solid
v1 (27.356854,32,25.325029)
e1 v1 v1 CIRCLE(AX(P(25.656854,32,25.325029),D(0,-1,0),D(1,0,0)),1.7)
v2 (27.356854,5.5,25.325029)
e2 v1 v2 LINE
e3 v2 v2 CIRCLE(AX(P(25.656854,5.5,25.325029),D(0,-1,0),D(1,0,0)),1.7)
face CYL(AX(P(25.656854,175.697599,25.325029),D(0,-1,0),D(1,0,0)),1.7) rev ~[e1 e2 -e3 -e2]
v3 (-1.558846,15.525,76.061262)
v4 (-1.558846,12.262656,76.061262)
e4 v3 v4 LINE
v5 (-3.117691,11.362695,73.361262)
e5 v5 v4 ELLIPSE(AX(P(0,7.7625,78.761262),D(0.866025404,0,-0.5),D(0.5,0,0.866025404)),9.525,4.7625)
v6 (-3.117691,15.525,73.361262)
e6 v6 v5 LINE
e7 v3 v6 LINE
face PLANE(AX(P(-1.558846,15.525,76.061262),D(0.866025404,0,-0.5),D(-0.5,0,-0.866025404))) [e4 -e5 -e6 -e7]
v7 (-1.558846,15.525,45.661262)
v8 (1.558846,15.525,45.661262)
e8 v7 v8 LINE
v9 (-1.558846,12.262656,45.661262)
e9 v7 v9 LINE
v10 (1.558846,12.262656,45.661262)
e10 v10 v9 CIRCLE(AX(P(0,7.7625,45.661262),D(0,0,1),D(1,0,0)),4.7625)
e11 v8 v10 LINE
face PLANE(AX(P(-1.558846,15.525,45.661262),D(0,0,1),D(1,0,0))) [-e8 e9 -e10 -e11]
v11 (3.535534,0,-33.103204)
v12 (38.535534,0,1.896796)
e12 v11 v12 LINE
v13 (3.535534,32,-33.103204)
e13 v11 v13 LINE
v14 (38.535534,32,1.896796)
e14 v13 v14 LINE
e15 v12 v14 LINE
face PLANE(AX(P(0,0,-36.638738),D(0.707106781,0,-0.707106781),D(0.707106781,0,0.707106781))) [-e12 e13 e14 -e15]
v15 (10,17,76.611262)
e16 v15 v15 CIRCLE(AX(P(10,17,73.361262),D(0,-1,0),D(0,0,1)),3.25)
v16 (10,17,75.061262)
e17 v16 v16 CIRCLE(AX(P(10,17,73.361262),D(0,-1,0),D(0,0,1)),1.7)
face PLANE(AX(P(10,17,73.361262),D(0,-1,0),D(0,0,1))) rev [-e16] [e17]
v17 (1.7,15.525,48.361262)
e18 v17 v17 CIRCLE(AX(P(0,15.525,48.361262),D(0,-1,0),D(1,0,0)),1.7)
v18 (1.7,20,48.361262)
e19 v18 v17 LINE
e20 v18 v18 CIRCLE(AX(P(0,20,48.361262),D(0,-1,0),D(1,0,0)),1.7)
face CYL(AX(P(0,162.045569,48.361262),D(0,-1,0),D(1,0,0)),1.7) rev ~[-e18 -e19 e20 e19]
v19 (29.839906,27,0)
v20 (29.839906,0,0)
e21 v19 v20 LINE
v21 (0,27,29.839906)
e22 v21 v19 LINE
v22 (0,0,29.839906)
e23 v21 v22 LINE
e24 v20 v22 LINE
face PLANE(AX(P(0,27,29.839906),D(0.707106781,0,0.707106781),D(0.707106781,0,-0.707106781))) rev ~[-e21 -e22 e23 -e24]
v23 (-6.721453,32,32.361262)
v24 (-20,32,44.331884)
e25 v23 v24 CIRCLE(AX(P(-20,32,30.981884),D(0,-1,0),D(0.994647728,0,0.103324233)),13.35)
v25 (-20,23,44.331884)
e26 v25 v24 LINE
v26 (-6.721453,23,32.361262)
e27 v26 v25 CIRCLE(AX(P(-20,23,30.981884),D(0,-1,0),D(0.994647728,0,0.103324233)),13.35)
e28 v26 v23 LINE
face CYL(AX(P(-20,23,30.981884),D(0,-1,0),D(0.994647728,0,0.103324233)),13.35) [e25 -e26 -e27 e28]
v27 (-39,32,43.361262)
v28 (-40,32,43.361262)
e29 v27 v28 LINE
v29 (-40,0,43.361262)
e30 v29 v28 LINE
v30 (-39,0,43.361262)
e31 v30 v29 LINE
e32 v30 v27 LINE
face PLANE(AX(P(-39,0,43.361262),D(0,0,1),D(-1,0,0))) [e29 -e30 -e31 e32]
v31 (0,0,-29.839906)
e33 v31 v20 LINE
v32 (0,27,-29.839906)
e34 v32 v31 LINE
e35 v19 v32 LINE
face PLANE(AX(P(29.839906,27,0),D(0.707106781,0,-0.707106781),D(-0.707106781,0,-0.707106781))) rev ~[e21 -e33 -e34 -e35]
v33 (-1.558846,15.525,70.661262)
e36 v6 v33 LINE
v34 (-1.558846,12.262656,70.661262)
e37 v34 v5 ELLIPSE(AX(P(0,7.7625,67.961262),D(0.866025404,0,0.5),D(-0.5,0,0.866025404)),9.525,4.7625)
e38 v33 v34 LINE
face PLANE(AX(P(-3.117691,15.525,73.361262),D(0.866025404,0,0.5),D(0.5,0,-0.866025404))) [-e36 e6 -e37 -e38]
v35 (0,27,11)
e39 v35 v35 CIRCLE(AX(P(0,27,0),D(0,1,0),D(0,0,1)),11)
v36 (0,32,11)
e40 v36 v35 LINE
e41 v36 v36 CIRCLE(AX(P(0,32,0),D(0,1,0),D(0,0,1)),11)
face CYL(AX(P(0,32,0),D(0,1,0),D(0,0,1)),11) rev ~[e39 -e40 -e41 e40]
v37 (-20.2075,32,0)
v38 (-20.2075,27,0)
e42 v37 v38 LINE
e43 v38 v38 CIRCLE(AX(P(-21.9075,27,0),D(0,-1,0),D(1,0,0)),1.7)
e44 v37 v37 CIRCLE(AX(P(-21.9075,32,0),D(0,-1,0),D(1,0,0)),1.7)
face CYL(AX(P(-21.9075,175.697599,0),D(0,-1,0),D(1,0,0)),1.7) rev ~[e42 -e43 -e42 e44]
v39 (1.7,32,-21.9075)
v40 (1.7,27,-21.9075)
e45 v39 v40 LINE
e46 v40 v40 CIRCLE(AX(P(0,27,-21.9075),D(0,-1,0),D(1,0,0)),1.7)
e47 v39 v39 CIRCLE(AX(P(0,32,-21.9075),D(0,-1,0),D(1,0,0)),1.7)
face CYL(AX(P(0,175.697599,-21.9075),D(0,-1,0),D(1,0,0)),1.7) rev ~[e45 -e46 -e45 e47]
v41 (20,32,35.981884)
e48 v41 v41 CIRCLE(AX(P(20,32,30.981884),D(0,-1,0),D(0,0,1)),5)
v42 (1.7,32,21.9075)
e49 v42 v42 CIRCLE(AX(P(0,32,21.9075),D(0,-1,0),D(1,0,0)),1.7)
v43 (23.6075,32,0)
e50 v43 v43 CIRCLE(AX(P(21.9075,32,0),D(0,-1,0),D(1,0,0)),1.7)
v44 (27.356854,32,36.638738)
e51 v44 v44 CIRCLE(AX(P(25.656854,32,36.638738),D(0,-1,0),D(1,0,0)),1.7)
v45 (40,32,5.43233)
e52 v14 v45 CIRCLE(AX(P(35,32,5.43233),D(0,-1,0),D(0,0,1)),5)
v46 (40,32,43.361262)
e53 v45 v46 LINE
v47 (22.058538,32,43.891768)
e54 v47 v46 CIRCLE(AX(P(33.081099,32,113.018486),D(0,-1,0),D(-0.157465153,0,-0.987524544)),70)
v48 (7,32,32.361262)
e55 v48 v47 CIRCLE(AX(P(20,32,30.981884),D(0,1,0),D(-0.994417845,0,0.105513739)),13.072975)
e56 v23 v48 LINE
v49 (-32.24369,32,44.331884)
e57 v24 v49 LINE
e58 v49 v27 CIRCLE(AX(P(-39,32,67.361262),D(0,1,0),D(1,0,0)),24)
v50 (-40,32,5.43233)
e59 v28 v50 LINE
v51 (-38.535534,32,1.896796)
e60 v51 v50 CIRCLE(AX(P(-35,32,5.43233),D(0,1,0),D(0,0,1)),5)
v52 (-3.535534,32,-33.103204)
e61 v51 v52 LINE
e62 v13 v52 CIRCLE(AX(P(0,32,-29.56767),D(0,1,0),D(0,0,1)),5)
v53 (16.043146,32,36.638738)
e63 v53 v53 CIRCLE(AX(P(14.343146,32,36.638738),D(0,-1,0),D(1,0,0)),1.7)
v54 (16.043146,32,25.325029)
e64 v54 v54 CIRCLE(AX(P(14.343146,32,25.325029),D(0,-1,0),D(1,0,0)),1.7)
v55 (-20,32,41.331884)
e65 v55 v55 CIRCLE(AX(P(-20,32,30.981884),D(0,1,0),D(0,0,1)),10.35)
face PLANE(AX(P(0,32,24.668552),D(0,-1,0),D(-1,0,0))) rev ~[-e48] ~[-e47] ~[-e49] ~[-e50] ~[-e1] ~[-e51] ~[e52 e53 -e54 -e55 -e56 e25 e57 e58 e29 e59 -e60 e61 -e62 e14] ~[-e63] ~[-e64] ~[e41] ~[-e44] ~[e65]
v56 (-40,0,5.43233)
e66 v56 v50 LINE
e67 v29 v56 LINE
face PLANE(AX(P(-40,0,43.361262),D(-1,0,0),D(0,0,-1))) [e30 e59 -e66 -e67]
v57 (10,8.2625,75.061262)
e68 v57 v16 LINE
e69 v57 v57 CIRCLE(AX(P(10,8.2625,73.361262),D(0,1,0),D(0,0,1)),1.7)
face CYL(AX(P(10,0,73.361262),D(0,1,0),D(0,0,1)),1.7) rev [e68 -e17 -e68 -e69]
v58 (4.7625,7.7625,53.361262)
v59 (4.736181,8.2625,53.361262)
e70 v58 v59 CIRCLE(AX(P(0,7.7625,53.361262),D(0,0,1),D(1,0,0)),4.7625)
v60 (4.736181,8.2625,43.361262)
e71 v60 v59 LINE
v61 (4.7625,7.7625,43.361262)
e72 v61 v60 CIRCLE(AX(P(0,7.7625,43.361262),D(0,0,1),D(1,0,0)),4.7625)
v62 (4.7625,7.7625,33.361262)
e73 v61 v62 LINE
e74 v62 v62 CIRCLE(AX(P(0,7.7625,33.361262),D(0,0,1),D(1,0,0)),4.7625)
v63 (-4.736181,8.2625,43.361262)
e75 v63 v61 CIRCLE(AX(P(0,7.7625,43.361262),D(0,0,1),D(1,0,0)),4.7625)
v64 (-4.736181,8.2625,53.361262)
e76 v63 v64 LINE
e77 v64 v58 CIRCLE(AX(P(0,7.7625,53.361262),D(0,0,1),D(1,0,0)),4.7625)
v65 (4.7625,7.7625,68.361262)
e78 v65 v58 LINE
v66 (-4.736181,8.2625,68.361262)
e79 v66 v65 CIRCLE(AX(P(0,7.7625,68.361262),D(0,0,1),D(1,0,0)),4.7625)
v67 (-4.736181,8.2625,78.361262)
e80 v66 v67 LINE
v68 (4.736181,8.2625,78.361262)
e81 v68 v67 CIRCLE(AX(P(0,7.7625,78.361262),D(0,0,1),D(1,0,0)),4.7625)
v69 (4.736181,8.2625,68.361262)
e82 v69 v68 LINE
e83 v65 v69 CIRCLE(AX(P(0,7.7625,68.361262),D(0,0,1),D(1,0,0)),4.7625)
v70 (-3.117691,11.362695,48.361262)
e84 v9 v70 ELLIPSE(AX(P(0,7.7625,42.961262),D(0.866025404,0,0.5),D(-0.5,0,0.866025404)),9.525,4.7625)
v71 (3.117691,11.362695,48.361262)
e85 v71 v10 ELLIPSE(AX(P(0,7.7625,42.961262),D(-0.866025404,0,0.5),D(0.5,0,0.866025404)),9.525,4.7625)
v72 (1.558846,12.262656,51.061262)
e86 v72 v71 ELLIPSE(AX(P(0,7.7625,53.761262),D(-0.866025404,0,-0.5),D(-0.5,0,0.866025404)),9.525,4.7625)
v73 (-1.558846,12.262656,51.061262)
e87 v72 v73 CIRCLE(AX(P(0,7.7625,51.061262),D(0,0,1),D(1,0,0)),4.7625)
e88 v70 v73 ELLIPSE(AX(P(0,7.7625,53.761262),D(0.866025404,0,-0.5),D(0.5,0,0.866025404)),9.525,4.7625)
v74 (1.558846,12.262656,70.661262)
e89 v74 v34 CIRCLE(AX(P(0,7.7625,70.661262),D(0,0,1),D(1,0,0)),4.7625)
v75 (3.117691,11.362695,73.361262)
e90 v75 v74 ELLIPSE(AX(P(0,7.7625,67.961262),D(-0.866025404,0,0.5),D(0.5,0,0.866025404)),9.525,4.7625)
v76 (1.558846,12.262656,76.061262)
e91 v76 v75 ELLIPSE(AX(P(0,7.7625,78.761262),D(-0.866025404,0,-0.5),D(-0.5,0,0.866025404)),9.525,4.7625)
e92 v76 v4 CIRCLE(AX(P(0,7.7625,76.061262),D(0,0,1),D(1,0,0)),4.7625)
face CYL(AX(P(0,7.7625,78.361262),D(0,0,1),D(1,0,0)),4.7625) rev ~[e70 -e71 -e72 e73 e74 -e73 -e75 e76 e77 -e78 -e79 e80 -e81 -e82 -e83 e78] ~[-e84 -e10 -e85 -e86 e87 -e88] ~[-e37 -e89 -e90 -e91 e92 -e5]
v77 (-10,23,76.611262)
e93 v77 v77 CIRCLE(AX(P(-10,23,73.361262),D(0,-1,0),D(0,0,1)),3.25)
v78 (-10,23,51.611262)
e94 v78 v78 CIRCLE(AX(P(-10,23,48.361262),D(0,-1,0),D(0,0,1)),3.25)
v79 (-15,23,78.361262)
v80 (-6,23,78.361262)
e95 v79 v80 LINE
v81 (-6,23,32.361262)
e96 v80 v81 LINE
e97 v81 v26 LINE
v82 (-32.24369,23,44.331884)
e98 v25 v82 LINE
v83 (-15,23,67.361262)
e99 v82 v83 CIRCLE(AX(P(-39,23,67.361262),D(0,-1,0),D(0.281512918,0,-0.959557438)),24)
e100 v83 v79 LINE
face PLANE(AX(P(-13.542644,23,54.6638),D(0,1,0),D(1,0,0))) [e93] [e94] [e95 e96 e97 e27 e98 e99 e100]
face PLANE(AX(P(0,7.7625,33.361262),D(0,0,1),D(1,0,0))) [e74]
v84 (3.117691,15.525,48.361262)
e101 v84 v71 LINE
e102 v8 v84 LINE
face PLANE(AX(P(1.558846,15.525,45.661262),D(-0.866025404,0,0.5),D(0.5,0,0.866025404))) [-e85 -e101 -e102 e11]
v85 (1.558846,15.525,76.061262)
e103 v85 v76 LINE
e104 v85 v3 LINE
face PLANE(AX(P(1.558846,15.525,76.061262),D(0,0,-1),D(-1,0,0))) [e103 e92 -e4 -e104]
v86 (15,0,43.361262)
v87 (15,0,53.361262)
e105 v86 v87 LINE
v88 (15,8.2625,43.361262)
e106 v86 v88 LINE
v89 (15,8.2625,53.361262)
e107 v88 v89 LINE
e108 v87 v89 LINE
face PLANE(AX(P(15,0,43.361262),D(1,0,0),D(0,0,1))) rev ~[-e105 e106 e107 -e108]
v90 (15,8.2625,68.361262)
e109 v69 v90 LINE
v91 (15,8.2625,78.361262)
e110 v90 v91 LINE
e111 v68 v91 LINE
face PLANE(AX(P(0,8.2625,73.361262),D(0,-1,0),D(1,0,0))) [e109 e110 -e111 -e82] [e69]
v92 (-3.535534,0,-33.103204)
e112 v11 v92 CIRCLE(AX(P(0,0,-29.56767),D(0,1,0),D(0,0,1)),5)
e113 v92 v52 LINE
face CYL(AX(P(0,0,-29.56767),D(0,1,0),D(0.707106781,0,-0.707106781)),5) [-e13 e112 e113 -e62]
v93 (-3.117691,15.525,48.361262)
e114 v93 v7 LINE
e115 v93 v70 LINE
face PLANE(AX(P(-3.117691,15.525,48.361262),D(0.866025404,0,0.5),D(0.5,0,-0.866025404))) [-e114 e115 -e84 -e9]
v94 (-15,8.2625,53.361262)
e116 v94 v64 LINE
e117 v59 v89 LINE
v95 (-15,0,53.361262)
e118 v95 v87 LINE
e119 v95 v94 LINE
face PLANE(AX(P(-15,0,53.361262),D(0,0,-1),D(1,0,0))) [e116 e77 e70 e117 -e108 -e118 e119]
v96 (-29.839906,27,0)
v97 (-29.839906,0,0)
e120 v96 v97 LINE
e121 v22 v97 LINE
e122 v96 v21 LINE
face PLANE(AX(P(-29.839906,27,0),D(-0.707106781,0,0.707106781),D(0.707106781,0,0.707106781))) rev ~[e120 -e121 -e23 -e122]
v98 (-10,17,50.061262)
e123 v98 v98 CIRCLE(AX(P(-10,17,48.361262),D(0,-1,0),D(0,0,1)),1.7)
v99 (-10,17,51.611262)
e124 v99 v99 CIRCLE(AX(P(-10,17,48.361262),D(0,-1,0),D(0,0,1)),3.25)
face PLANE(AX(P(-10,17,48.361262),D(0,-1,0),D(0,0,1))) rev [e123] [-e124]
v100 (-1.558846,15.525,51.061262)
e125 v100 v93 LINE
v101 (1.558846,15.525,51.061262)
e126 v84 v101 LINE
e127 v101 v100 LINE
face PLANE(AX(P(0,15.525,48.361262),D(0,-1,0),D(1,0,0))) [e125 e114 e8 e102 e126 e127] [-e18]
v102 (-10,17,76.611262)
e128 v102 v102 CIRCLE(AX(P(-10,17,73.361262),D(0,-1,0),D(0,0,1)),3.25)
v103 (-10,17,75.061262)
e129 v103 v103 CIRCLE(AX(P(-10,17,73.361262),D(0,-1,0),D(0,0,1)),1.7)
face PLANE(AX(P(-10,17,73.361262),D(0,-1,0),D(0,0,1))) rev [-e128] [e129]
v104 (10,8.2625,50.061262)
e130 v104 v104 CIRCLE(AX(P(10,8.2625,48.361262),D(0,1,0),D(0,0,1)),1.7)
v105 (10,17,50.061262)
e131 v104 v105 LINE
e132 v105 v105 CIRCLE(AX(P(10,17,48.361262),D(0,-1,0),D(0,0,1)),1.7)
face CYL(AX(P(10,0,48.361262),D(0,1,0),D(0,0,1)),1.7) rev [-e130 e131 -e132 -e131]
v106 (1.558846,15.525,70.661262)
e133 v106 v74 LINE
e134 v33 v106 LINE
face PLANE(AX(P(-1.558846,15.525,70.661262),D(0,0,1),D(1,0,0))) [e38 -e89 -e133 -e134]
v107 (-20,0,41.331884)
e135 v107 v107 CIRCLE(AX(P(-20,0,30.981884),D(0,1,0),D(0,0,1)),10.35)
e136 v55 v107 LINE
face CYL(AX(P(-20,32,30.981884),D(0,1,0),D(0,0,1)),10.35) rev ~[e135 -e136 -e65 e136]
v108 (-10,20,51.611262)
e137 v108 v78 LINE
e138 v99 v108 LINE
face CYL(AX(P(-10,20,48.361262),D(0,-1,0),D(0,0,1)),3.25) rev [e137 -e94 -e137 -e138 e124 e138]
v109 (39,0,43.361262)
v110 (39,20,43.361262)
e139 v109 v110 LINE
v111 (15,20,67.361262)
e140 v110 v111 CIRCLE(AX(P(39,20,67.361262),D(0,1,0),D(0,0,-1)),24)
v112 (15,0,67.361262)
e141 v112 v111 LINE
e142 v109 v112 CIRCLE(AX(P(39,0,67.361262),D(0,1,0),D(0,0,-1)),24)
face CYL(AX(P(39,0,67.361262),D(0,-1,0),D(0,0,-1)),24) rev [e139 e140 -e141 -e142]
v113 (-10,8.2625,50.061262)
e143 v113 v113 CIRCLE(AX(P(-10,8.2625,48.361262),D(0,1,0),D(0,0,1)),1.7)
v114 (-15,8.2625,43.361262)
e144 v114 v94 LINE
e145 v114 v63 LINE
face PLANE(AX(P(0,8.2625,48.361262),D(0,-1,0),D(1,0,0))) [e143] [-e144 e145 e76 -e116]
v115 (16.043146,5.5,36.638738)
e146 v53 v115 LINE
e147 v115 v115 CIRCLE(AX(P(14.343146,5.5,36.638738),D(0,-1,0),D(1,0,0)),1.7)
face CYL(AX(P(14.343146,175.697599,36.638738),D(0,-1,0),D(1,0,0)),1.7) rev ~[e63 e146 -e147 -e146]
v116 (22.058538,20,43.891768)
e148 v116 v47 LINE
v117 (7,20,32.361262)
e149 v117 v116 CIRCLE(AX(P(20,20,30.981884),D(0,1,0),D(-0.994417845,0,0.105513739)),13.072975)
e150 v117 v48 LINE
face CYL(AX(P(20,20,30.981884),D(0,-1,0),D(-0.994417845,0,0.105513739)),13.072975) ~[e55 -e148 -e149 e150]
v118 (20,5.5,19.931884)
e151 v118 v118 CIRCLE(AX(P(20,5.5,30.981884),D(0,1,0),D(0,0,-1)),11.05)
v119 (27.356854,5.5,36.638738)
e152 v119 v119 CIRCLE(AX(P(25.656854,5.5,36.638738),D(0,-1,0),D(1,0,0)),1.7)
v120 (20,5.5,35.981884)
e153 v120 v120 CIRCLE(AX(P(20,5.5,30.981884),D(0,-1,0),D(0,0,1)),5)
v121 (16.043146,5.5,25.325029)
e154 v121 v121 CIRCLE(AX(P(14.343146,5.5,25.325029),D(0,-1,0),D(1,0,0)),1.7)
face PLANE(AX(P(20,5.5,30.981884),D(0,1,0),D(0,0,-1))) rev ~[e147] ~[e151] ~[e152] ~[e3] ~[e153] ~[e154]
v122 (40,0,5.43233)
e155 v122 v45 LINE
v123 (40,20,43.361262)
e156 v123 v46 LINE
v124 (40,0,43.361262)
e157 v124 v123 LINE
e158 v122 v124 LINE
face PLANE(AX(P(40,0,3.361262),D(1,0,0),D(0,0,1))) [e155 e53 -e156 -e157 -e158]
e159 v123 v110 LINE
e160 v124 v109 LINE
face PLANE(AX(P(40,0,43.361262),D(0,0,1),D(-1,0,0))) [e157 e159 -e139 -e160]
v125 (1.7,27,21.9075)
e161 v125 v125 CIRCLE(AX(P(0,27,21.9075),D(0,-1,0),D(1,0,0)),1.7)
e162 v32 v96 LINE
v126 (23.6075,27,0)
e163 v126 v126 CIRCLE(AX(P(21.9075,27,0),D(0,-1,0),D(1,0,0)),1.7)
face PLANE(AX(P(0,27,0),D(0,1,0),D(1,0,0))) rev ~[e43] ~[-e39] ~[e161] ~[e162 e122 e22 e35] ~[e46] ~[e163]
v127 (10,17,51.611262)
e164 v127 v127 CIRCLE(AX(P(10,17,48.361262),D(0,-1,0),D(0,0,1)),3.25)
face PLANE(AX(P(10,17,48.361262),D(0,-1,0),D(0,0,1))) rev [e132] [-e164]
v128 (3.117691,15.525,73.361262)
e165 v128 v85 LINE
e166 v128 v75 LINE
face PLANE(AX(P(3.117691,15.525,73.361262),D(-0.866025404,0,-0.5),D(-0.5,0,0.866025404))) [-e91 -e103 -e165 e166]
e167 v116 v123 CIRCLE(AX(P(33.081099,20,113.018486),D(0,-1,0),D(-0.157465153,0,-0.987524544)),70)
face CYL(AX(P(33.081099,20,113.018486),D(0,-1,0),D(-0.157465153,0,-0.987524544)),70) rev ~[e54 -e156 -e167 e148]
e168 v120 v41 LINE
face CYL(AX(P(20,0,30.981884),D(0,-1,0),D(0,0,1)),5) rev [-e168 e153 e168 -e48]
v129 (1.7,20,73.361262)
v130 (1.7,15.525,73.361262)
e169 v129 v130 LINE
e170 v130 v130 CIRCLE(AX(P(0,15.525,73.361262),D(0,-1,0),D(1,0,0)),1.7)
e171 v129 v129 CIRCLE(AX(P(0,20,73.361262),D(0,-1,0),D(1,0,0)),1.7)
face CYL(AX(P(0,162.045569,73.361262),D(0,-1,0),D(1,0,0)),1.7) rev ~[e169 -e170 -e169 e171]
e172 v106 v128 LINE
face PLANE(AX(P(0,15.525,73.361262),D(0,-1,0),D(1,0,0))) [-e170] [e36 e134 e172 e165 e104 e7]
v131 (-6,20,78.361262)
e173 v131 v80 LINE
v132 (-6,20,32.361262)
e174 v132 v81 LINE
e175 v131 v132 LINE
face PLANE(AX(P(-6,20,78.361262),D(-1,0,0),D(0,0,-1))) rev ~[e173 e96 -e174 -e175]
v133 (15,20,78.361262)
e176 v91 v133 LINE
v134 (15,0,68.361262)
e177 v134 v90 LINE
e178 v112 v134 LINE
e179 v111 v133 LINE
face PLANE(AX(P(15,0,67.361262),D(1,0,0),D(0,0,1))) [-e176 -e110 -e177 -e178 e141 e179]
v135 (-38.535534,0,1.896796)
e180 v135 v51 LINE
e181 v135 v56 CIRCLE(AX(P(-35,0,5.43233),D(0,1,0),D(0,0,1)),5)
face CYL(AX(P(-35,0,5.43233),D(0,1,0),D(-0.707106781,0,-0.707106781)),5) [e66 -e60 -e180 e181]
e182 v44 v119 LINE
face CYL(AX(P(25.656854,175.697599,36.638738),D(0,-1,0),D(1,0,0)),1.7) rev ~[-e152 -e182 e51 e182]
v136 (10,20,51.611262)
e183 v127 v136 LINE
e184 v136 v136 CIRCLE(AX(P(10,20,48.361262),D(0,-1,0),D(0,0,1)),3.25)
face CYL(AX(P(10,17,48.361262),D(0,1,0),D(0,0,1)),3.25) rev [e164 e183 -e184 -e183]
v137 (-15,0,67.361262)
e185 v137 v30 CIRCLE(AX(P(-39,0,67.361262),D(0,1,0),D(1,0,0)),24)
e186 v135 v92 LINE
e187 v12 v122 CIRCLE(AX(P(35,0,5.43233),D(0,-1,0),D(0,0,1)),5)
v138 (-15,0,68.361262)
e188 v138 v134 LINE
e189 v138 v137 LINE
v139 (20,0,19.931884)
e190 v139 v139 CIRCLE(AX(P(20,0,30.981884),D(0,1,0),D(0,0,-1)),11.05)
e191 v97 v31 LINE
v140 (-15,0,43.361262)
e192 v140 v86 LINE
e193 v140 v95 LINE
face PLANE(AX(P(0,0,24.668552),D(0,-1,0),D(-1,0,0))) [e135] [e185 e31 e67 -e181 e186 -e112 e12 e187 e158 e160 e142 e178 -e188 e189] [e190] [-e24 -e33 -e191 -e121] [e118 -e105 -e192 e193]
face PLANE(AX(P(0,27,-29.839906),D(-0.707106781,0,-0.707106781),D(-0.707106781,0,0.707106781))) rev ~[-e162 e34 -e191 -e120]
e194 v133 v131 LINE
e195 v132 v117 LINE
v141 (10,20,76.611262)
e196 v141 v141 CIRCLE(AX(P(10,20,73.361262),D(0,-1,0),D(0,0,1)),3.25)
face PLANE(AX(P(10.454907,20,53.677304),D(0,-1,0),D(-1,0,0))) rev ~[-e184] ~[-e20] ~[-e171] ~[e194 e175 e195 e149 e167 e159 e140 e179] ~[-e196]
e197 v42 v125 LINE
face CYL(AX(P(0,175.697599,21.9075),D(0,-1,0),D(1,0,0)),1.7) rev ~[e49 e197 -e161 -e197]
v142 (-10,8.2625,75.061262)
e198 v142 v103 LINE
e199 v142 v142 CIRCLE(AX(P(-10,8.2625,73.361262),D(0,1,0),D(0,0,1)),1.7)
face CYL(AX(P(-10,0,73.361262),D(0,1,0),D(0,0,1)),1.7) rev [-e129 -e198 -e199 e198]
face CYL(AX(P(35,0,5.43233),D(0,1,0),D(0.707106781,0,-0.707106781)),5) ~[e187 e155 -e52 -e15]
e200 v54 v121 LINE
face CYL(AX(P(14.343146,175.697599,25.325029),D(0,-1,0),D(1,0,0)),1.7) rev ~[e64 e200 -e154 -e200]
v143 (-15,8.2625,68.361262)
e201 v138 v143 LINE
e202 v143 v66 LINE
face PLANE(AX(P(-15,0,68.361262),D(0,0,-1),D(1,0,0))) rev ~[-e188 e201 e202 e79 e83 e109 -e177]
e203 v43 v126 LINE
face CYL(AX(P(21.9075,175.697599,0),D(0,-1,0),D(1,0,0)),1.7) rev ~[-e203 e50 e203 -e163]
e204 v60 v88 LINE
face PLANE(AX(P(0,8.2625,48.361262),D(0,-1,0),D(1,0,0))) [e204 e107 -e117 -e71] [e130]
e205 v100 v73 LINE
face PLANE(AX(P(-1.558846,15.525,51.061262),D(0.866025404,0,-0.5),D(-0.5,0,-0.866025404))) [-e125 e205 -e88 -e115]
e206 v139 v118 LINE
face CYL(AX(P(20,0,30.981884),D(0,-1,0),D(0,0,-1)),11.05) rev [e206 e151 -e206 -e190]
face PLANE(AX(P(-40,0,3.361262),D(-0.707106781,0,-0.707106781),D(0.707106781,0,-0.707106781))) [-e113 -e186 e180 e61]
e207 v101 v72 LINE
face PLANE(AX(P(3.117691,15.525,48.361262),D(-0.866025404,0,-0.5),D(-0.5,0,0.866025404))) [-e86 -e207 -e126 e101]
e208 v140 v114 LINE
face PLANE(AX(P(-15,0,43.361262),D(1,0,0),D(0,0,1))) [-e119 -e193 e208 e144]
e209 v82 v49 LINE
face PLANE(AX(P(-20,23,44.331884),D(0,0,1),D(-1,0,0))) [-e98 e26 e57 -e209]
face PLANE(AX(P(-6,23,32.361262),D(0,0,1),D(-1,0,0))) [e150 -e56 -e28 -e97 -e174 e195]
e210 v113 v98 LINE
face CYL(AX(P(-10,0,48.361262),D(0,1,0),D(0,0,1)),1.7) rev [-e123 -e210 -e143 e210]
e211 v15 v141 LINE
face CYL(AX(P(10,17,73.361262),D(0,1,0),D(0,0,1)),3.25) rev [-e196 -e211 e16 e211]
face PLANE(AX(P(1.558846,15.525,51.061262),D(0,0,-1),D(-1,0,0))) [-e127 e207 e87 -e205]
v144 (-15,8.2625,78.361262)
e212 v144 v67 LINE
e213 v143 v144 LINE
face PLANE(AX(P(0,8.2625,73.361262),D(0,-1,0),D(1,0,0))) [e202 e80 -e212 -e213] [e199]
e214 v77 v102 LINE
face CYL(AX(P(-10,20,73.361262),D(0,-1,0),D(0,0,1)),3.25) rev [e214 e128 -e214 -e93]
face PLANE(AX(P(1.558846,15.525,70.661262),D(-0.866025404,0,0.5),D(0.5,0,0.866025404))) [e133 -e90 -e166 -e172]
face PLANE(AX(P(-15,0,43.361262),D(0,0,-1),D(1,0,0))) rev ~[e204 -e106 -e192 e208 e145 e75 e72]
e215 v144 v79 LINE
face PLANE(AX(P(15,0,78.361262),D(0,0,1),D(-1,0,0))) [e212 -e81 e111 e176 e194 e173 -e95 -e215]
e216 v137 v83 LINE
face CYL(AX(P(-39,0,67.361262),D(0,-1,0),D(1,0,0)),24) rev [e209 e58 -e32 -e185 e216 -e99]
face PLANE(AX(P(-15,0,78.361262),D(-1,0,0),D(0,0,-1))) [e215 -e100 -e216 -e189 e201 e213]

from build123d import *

# Parameters (mm, degrees)
BOSS_EXTRUDE1_DEPTH           = 32
SKETCH1_3_R                   = 5
CUT_EXTRUDE1_DEPTH            = 94.618841069
CUT_EXTRUDE2_START            = -32
SKETCH2_R                     = 11.05
CUT_EXTRUDE2_DEPTH            = 5.5
M3_CLEARANCE_HOLE1_D          = 3.4
MOTOR_START                   = -5
MOTOR_POCKET_DEPTH            = 89.618841069
SKETCH6_R                     = 11
PILOT_DEPTH                   = 94.618841069
M3_CLEARANCE_HOLE2_D          = 3.4
SKETCH10_R                    = 10.35
BEARING_BORE_DEPTH            = 94.618841069
CUT_EXTRUDE6_START            = -12
CUT_EXTRUDE6_DEPTH            = 12
CUT_EXTRUDE14_START           = 3
CUT_EXTRUDE14_DEPTH           = 10
FILLET7_R                     = 5
FILLET11_R                    = 5
M3_CLEARANCE_HOLE4_D          = 3.4
CUT_EXTRUDE13_DEPTH           = 91.10972771
CUT_EXTRUDE13_DEPTH_BACK      = 3
SKETCH28_R                    = 4.7625
CUT_EXTRUDE17_DEPTH           = 45
SKETCH29_W                    = 30
SKETCH29_H                    = 10
CUT_EXTRUDE18_DEPTH           = 8.2625
CBORE_FOR_M3_SHCS1_AT_2_COUNT = 2
CBORE_FOR_M3_SHCS1_AT_2_PITCH = 25
CBORE_FOR_M3_SHCS1_AT_3_COUNT = 2
CBORE_FOR_M3_SHCS1_AT_3_PITCH = 32.015621187
CBORE_FOR_M3_SHCS1_AT_4_COUNT = 2
CBORE_FOR_M3_SHCS1_AT_4_PITCH = 20
SKETCH32_R                    = 3.25
CUT_EXTRUDE19_DEPTH           = 91.224649642


with BuildPart() as part:
    # Sketch1 → Boss-Extrude1 (new body)
    with BuildSketch(Plane(origin=(0, 0, 0), x_dir=(1, 0, 0), z_dir=(0, 1, 0))):
        with BuildLine():
            Line((0, 36.638737867), (40, -3.361262133))
            Line((40, -3.361262133), (40, -43.361262133))
            Line((40, -43.361262133), (39, -43.361262133))
            ThreePointArc((39, -43.361262133), (22.029437252, -50.390699384), (15, -67.361262133))
            Line((15, -67.361262133), (15, -78.361262133))
            Line((15, -78.361262133), (-15, -78.361262133))
            Line((-15, -78.361262133), (-15, -67.361262133))
            ThreePointArc((-15, -67.361262133), (-22.029437252, -50.390699384), (-39, -43.361262133))
            Line((-39, -43.361262133), (-40, -43.361262133))
            Line((-40, -43.361262133), (-40, -3.361262133))
            Line((-40, -3.361262133), (0, 36.638737867))
        make_face()
    extrude(amount=BOSS_EXTRUDE1_DEPTH)

    # Sketch1<3> → Cut-Extrude1 (cut, through all)
    with BuildSketch(Plane(origin=(0, 0, 0), x_dir=(1, 0, 0), z_dir=(0, 1, 0))):
        with Locations(Location((20, -30.981883618, 0), (0, 0, 270))):
            Circle(SKETCH1_3_R)
    extrude(amount=CUT_EXTRUDE1_DEPTH, mode=Mode.SUBTRACT)

    # Sketch2 → Cut-Extrude2 (cut)
    with BuildSketch(Plane(origin=(0, 32, 0), x_dir=(1, 0, 0), z_dir=(0, 1, 0)).offset(CUT_EXTRUDE2_START)):
        with Locations(Location((20, -30.981883618, 0), (0, 0, 90))):
            Circle(SKETCH2_R)
    extrude(amount=CUT_EXTRUDE2_DEPTH, mode=Mode.SUBTRACT)

    # M3 Clearance Hole1 (through all)
    with Locations(Plane(origin=(0, 32, 0), x_dir=(-1, 0, 0), z_dir=(0, 1, 0))):
        with Locations((-25.656854249, 25.325029368), (-25.656854249, 36.638737867), (-14.343145751, 36.638737867), (-14.343145751, 25.325029368)):
            Hole(M3_CLEARANCE_HOLE1_D / 2)

    # Sketch5 → Motor Pocket (cut, through all)
    with BuildSketch(Plane(origin=(0, 32, 0), x_dir=(1, 0, 0), z_dir=(0, 1, 0)).offset(MOTOR_START)):
        Polygon((0, 29.839906166), (-29.839906166, 0), (0, -29.839906166), (29.839906166, 0), align=None)
    extrude(amount=-MOTOR_POCKET_DEPTH, mode=Mode.SUBTRACT)

    # Sketch6 → Pilot (cut, through all)
    with BuildSketch(Plane(origin=(0, 32, 0), x_dir=(1, 0, 0), z_dir=(0, 1, 0))):
        with Locations(Location((0, 0, 0), (0, 0, 270))):
            Circle(SKETCH6_R)
    extrude(amount=-PILOT_DEPTH, mode=Mode.SUBTRACT)

    # M3 Clearance Hole2 (through all)
    with Locations(Plane(origin=(0, 32, 0), x_dir=(-1, 0, 0), z_dir=(0, 1, 0))):
        with Locations((21.9075, 0), (0, -21.9075), (-21.9075, 0), (0, 21.9075)):
            Hole(M3_CLEARANCE_HOLE2_D / 2)

    # Sketch10 → Bearing Bore (cut, through all)
    with BuildSketch(Plane(origin=(0, 32, 0), x_dir=(1, 0, 0), z_dir=(0, 1, 0))):
        with Locations(Location((-20, -30.981883618, 0), (0, 0, 270))):
            Circle(SKETCH10_R)
    extrude(amount=-BEARING_BORE_DEPTH, mode=Mode.SUBTRACT)

    # Sketch11 → Cut-Extrude6 (cut)
    with BuildSketch(Plane(origin=(0, 32, 0), x_dir=(1, 0, 0), z_dir=(0, 1, 0)).offset(CUT_EXTRUDE6_START)):
        with BuildLine():
            Line((-6, -32.361262133), (7, -32.361262133))
            ThreePointArc((7, -32.361262133), (12.052230702, -41.361462043), (22.05853806, -43.891767666))
            ThreePointArc((22.05853806, -43.891767666), (31.012194637, -43.049066482), (40, -43.361262133))
            Line((40, -43.361262133), (39, -43.361262133))
            ThreePointArc((39, -43.361262133), (22.029437252, -50.390699384), (15, -67.361262133))
            Line((15, -67.361262133), (15, -78.361262133))
            Line((15, -78.361262133), (-6, -78.361262133))
            Line((-6, -78.361262133), (-6, -32.361262133))
        make_face()
    extrude(amount=CUT_EXTRUDE6_DEPTH, mode=Mode.SUBTRACT)

    # Sketch26 → Cut-Extrude14 (cut)
    with BuildSketch(Plane(origin=(0, 20, 0), x_dir=(1, 0, 0), z_dir=(0, 1, 0)).offset(CUT_EXTRUDE14_START)):
        with BuildLine():
            Line((-6, -32.361262133), (-6.721452831, -32.361262133))
            ThreePointArc((-6.721452831, -32.361262133), (-11.061101946, -40.897457307), (-20, -44.331883618))
            Line((-20, -44.331883618), (-32.243689971, -44.331883618))
            ThreePointArc((-32.243689971, -44.331883618), (-19.788656467, -52.976399268), (-15, -67.361262133))
            Line((-15, -67.361262133), (-15, -78.361262133))
            Line((-15, -78.361262133), (-6, -78.361262133))
            Line((-6, -78.361262133), (-6, -32.361262133))
        make_face()
    extrude(amount=CUT_EXTRUDE14_DEPTH, mode=Mode.SUBTRACT)

    # Fillet7
    fillet7_edges = [part.edges().sort_by_distance(p)[0] for p in [
        (0, 16, -36.638737867),
    ]]
    fillet(fillet7_edges, radius=FILLET7_R)

    # Fillet11
    fillet11_edges = [part.edges().sort_by_distance(p)[0] for p in [
        (-40, 16, 3.361262133),
        (40, 16, 3.361262133),
    ]]
    fillet(fillet11_edges, radius=FILLET11_R)

    # M3 Clearance Hole4 (through all)
    with Locations(Plane(origin=(0, 20, 0), x_dir=(-1, 0, 0), z_dir=(0, 1, 0))):
        with Locations((0, 48.361262133), (0, 73.361262133)):
            Hole(M3_CLEARANCE_HOLE4_D / 2)

    # Sketch24 → Cut-Extrude13 (cut, two sides: drawn at the far end of the back side and taken through both)
    with BuildSketch(Plane.XZ.offset(-12.525).offset(-CUT_EXTRUDE13_DEPTH_BACK)):
        Polygon((1.558845727, 45.661262133), (3.117691454, 48.361262133), (1.558845727, 51.061262133), (-1.558845727, 51.061262133), (-3.117691454, 48.361262133), (-1.558845727, 45.661262133), align=None)
        Polygon((1.558845727, 70.661262133), (3.117691454, 73.361262133), (1.558845727, 76.061262133), (-1.558845727, 76.061262133), (-3.117691454, 73.361262133), (-1.558845727, 70.661262133), align=None)
    extrude(amount=CUT_EXTRUDE13_DEPTH + CUT_EXTRUDE13_DEPTH_BACK, mode=Mode.SUBTRACT)

    # Sketch28 → Cut-Extrude17 (cut)
    with BuildSketch(Plane.XY.offset(78.361262133)):
        with Locations((0, 7.7625)):
            Circle(SKETCH28_R)
    extrude(amount=-CUT_EXTRUDE17_DEPTH, mode=Mode.SUBTRACT)

    # Sketch29 → Cut-Extrude18 (cut)
    with BuildSketch(Plane.XZ):
        with Locations((0, 73.361262133)):
            Rectangle(SKETCH29_W, SKETCH29_H)
        with Locations((0, 48.361262133)):
            Rectangle(SKETCH29_W, SKETCH29_H)
    extrude(amount=-CUT_EXTRUDE18_DEPTH, mode=Mode.SUBTRACT)

    # Sketch30 → CBORE for M3 SHCS1 (revolve, cut)
    with BuildSketch(Plane(origin=(10, 20, 73.361262133), x_dir=(0, 0, 1), z_dir=(1, 0, 0))):
        Polygon((0, 0), (0, 20), (1.7, 20), (1.7, 3), (3.25, 3), (3.25, 0), align=None)
    cbore_for_m3_shcs1 = revolve(axis=Axis((10, 26.35, 73.361262133), (0, -1, 0)), mode=Mode.SUBTRACT)

    # CBORE for M3 SHCS1 at 2: CBORE for M3 SHCS1 ×2
    with Locations(*[(0, 0, -i * CBORE_FOR_M3_SHCS1_AT_2_PITCH) for i in range(1, CBORE_FOR_M3_SHCS1_AT_2_COUNT)]):
        add(cbore_for_m3_shcs1, mode=Mode.SUBTRACT)

    # CBORE for M3 SHCS1 at 3: CBORE for M3 SHCS1 ×2
    with Locations(*[Vector(-0.624695047554424, 0, -0.7808688094430305) * (i * CBORE_FOR_M3_SHCS1_AT_3_PITCH) for i in range(1, CBORE_FOR_M3_SHCS1_AT_3_COUNT)]):
        add(cbore_for_m3_shcs1, mode=Mode.SUBTRACT)

    # CBORE for M3 SHCS1 at 4: CBORE for M3 SHCS1 ×2
    with Locations(*[(-i * CBORE_FOR_M3_SHCS1_AT_4_PITCH, 0, 0) for i in range(1, CBORE_FOR_M3_SHCS1_AT_4_COUNT)]):
        add(cbore_for_m3_shcs1, mode=Mode.SUBTRACT)

    # Sketch32 → Cut-Extrude19 (cut, through all)
    with BuildSketch(Plane(origin=(0, 20, 0), x_dir=(1, 0, 0), z_dir=(0, 1, 0))):
        with Locations(Location((-10, -73.361262133, 0), (0, 0, 270))):
            Circle(SKETCH32_R)
        with Locations(Location((-10, -48.361262133, 0), (0, 0, 270))):
            Circle(SKETCH32_R)
    extrude(amount=CUT_EXTRUDE19_DEPTH, mode=Mode.SUBTRACT)


solid = part.part
